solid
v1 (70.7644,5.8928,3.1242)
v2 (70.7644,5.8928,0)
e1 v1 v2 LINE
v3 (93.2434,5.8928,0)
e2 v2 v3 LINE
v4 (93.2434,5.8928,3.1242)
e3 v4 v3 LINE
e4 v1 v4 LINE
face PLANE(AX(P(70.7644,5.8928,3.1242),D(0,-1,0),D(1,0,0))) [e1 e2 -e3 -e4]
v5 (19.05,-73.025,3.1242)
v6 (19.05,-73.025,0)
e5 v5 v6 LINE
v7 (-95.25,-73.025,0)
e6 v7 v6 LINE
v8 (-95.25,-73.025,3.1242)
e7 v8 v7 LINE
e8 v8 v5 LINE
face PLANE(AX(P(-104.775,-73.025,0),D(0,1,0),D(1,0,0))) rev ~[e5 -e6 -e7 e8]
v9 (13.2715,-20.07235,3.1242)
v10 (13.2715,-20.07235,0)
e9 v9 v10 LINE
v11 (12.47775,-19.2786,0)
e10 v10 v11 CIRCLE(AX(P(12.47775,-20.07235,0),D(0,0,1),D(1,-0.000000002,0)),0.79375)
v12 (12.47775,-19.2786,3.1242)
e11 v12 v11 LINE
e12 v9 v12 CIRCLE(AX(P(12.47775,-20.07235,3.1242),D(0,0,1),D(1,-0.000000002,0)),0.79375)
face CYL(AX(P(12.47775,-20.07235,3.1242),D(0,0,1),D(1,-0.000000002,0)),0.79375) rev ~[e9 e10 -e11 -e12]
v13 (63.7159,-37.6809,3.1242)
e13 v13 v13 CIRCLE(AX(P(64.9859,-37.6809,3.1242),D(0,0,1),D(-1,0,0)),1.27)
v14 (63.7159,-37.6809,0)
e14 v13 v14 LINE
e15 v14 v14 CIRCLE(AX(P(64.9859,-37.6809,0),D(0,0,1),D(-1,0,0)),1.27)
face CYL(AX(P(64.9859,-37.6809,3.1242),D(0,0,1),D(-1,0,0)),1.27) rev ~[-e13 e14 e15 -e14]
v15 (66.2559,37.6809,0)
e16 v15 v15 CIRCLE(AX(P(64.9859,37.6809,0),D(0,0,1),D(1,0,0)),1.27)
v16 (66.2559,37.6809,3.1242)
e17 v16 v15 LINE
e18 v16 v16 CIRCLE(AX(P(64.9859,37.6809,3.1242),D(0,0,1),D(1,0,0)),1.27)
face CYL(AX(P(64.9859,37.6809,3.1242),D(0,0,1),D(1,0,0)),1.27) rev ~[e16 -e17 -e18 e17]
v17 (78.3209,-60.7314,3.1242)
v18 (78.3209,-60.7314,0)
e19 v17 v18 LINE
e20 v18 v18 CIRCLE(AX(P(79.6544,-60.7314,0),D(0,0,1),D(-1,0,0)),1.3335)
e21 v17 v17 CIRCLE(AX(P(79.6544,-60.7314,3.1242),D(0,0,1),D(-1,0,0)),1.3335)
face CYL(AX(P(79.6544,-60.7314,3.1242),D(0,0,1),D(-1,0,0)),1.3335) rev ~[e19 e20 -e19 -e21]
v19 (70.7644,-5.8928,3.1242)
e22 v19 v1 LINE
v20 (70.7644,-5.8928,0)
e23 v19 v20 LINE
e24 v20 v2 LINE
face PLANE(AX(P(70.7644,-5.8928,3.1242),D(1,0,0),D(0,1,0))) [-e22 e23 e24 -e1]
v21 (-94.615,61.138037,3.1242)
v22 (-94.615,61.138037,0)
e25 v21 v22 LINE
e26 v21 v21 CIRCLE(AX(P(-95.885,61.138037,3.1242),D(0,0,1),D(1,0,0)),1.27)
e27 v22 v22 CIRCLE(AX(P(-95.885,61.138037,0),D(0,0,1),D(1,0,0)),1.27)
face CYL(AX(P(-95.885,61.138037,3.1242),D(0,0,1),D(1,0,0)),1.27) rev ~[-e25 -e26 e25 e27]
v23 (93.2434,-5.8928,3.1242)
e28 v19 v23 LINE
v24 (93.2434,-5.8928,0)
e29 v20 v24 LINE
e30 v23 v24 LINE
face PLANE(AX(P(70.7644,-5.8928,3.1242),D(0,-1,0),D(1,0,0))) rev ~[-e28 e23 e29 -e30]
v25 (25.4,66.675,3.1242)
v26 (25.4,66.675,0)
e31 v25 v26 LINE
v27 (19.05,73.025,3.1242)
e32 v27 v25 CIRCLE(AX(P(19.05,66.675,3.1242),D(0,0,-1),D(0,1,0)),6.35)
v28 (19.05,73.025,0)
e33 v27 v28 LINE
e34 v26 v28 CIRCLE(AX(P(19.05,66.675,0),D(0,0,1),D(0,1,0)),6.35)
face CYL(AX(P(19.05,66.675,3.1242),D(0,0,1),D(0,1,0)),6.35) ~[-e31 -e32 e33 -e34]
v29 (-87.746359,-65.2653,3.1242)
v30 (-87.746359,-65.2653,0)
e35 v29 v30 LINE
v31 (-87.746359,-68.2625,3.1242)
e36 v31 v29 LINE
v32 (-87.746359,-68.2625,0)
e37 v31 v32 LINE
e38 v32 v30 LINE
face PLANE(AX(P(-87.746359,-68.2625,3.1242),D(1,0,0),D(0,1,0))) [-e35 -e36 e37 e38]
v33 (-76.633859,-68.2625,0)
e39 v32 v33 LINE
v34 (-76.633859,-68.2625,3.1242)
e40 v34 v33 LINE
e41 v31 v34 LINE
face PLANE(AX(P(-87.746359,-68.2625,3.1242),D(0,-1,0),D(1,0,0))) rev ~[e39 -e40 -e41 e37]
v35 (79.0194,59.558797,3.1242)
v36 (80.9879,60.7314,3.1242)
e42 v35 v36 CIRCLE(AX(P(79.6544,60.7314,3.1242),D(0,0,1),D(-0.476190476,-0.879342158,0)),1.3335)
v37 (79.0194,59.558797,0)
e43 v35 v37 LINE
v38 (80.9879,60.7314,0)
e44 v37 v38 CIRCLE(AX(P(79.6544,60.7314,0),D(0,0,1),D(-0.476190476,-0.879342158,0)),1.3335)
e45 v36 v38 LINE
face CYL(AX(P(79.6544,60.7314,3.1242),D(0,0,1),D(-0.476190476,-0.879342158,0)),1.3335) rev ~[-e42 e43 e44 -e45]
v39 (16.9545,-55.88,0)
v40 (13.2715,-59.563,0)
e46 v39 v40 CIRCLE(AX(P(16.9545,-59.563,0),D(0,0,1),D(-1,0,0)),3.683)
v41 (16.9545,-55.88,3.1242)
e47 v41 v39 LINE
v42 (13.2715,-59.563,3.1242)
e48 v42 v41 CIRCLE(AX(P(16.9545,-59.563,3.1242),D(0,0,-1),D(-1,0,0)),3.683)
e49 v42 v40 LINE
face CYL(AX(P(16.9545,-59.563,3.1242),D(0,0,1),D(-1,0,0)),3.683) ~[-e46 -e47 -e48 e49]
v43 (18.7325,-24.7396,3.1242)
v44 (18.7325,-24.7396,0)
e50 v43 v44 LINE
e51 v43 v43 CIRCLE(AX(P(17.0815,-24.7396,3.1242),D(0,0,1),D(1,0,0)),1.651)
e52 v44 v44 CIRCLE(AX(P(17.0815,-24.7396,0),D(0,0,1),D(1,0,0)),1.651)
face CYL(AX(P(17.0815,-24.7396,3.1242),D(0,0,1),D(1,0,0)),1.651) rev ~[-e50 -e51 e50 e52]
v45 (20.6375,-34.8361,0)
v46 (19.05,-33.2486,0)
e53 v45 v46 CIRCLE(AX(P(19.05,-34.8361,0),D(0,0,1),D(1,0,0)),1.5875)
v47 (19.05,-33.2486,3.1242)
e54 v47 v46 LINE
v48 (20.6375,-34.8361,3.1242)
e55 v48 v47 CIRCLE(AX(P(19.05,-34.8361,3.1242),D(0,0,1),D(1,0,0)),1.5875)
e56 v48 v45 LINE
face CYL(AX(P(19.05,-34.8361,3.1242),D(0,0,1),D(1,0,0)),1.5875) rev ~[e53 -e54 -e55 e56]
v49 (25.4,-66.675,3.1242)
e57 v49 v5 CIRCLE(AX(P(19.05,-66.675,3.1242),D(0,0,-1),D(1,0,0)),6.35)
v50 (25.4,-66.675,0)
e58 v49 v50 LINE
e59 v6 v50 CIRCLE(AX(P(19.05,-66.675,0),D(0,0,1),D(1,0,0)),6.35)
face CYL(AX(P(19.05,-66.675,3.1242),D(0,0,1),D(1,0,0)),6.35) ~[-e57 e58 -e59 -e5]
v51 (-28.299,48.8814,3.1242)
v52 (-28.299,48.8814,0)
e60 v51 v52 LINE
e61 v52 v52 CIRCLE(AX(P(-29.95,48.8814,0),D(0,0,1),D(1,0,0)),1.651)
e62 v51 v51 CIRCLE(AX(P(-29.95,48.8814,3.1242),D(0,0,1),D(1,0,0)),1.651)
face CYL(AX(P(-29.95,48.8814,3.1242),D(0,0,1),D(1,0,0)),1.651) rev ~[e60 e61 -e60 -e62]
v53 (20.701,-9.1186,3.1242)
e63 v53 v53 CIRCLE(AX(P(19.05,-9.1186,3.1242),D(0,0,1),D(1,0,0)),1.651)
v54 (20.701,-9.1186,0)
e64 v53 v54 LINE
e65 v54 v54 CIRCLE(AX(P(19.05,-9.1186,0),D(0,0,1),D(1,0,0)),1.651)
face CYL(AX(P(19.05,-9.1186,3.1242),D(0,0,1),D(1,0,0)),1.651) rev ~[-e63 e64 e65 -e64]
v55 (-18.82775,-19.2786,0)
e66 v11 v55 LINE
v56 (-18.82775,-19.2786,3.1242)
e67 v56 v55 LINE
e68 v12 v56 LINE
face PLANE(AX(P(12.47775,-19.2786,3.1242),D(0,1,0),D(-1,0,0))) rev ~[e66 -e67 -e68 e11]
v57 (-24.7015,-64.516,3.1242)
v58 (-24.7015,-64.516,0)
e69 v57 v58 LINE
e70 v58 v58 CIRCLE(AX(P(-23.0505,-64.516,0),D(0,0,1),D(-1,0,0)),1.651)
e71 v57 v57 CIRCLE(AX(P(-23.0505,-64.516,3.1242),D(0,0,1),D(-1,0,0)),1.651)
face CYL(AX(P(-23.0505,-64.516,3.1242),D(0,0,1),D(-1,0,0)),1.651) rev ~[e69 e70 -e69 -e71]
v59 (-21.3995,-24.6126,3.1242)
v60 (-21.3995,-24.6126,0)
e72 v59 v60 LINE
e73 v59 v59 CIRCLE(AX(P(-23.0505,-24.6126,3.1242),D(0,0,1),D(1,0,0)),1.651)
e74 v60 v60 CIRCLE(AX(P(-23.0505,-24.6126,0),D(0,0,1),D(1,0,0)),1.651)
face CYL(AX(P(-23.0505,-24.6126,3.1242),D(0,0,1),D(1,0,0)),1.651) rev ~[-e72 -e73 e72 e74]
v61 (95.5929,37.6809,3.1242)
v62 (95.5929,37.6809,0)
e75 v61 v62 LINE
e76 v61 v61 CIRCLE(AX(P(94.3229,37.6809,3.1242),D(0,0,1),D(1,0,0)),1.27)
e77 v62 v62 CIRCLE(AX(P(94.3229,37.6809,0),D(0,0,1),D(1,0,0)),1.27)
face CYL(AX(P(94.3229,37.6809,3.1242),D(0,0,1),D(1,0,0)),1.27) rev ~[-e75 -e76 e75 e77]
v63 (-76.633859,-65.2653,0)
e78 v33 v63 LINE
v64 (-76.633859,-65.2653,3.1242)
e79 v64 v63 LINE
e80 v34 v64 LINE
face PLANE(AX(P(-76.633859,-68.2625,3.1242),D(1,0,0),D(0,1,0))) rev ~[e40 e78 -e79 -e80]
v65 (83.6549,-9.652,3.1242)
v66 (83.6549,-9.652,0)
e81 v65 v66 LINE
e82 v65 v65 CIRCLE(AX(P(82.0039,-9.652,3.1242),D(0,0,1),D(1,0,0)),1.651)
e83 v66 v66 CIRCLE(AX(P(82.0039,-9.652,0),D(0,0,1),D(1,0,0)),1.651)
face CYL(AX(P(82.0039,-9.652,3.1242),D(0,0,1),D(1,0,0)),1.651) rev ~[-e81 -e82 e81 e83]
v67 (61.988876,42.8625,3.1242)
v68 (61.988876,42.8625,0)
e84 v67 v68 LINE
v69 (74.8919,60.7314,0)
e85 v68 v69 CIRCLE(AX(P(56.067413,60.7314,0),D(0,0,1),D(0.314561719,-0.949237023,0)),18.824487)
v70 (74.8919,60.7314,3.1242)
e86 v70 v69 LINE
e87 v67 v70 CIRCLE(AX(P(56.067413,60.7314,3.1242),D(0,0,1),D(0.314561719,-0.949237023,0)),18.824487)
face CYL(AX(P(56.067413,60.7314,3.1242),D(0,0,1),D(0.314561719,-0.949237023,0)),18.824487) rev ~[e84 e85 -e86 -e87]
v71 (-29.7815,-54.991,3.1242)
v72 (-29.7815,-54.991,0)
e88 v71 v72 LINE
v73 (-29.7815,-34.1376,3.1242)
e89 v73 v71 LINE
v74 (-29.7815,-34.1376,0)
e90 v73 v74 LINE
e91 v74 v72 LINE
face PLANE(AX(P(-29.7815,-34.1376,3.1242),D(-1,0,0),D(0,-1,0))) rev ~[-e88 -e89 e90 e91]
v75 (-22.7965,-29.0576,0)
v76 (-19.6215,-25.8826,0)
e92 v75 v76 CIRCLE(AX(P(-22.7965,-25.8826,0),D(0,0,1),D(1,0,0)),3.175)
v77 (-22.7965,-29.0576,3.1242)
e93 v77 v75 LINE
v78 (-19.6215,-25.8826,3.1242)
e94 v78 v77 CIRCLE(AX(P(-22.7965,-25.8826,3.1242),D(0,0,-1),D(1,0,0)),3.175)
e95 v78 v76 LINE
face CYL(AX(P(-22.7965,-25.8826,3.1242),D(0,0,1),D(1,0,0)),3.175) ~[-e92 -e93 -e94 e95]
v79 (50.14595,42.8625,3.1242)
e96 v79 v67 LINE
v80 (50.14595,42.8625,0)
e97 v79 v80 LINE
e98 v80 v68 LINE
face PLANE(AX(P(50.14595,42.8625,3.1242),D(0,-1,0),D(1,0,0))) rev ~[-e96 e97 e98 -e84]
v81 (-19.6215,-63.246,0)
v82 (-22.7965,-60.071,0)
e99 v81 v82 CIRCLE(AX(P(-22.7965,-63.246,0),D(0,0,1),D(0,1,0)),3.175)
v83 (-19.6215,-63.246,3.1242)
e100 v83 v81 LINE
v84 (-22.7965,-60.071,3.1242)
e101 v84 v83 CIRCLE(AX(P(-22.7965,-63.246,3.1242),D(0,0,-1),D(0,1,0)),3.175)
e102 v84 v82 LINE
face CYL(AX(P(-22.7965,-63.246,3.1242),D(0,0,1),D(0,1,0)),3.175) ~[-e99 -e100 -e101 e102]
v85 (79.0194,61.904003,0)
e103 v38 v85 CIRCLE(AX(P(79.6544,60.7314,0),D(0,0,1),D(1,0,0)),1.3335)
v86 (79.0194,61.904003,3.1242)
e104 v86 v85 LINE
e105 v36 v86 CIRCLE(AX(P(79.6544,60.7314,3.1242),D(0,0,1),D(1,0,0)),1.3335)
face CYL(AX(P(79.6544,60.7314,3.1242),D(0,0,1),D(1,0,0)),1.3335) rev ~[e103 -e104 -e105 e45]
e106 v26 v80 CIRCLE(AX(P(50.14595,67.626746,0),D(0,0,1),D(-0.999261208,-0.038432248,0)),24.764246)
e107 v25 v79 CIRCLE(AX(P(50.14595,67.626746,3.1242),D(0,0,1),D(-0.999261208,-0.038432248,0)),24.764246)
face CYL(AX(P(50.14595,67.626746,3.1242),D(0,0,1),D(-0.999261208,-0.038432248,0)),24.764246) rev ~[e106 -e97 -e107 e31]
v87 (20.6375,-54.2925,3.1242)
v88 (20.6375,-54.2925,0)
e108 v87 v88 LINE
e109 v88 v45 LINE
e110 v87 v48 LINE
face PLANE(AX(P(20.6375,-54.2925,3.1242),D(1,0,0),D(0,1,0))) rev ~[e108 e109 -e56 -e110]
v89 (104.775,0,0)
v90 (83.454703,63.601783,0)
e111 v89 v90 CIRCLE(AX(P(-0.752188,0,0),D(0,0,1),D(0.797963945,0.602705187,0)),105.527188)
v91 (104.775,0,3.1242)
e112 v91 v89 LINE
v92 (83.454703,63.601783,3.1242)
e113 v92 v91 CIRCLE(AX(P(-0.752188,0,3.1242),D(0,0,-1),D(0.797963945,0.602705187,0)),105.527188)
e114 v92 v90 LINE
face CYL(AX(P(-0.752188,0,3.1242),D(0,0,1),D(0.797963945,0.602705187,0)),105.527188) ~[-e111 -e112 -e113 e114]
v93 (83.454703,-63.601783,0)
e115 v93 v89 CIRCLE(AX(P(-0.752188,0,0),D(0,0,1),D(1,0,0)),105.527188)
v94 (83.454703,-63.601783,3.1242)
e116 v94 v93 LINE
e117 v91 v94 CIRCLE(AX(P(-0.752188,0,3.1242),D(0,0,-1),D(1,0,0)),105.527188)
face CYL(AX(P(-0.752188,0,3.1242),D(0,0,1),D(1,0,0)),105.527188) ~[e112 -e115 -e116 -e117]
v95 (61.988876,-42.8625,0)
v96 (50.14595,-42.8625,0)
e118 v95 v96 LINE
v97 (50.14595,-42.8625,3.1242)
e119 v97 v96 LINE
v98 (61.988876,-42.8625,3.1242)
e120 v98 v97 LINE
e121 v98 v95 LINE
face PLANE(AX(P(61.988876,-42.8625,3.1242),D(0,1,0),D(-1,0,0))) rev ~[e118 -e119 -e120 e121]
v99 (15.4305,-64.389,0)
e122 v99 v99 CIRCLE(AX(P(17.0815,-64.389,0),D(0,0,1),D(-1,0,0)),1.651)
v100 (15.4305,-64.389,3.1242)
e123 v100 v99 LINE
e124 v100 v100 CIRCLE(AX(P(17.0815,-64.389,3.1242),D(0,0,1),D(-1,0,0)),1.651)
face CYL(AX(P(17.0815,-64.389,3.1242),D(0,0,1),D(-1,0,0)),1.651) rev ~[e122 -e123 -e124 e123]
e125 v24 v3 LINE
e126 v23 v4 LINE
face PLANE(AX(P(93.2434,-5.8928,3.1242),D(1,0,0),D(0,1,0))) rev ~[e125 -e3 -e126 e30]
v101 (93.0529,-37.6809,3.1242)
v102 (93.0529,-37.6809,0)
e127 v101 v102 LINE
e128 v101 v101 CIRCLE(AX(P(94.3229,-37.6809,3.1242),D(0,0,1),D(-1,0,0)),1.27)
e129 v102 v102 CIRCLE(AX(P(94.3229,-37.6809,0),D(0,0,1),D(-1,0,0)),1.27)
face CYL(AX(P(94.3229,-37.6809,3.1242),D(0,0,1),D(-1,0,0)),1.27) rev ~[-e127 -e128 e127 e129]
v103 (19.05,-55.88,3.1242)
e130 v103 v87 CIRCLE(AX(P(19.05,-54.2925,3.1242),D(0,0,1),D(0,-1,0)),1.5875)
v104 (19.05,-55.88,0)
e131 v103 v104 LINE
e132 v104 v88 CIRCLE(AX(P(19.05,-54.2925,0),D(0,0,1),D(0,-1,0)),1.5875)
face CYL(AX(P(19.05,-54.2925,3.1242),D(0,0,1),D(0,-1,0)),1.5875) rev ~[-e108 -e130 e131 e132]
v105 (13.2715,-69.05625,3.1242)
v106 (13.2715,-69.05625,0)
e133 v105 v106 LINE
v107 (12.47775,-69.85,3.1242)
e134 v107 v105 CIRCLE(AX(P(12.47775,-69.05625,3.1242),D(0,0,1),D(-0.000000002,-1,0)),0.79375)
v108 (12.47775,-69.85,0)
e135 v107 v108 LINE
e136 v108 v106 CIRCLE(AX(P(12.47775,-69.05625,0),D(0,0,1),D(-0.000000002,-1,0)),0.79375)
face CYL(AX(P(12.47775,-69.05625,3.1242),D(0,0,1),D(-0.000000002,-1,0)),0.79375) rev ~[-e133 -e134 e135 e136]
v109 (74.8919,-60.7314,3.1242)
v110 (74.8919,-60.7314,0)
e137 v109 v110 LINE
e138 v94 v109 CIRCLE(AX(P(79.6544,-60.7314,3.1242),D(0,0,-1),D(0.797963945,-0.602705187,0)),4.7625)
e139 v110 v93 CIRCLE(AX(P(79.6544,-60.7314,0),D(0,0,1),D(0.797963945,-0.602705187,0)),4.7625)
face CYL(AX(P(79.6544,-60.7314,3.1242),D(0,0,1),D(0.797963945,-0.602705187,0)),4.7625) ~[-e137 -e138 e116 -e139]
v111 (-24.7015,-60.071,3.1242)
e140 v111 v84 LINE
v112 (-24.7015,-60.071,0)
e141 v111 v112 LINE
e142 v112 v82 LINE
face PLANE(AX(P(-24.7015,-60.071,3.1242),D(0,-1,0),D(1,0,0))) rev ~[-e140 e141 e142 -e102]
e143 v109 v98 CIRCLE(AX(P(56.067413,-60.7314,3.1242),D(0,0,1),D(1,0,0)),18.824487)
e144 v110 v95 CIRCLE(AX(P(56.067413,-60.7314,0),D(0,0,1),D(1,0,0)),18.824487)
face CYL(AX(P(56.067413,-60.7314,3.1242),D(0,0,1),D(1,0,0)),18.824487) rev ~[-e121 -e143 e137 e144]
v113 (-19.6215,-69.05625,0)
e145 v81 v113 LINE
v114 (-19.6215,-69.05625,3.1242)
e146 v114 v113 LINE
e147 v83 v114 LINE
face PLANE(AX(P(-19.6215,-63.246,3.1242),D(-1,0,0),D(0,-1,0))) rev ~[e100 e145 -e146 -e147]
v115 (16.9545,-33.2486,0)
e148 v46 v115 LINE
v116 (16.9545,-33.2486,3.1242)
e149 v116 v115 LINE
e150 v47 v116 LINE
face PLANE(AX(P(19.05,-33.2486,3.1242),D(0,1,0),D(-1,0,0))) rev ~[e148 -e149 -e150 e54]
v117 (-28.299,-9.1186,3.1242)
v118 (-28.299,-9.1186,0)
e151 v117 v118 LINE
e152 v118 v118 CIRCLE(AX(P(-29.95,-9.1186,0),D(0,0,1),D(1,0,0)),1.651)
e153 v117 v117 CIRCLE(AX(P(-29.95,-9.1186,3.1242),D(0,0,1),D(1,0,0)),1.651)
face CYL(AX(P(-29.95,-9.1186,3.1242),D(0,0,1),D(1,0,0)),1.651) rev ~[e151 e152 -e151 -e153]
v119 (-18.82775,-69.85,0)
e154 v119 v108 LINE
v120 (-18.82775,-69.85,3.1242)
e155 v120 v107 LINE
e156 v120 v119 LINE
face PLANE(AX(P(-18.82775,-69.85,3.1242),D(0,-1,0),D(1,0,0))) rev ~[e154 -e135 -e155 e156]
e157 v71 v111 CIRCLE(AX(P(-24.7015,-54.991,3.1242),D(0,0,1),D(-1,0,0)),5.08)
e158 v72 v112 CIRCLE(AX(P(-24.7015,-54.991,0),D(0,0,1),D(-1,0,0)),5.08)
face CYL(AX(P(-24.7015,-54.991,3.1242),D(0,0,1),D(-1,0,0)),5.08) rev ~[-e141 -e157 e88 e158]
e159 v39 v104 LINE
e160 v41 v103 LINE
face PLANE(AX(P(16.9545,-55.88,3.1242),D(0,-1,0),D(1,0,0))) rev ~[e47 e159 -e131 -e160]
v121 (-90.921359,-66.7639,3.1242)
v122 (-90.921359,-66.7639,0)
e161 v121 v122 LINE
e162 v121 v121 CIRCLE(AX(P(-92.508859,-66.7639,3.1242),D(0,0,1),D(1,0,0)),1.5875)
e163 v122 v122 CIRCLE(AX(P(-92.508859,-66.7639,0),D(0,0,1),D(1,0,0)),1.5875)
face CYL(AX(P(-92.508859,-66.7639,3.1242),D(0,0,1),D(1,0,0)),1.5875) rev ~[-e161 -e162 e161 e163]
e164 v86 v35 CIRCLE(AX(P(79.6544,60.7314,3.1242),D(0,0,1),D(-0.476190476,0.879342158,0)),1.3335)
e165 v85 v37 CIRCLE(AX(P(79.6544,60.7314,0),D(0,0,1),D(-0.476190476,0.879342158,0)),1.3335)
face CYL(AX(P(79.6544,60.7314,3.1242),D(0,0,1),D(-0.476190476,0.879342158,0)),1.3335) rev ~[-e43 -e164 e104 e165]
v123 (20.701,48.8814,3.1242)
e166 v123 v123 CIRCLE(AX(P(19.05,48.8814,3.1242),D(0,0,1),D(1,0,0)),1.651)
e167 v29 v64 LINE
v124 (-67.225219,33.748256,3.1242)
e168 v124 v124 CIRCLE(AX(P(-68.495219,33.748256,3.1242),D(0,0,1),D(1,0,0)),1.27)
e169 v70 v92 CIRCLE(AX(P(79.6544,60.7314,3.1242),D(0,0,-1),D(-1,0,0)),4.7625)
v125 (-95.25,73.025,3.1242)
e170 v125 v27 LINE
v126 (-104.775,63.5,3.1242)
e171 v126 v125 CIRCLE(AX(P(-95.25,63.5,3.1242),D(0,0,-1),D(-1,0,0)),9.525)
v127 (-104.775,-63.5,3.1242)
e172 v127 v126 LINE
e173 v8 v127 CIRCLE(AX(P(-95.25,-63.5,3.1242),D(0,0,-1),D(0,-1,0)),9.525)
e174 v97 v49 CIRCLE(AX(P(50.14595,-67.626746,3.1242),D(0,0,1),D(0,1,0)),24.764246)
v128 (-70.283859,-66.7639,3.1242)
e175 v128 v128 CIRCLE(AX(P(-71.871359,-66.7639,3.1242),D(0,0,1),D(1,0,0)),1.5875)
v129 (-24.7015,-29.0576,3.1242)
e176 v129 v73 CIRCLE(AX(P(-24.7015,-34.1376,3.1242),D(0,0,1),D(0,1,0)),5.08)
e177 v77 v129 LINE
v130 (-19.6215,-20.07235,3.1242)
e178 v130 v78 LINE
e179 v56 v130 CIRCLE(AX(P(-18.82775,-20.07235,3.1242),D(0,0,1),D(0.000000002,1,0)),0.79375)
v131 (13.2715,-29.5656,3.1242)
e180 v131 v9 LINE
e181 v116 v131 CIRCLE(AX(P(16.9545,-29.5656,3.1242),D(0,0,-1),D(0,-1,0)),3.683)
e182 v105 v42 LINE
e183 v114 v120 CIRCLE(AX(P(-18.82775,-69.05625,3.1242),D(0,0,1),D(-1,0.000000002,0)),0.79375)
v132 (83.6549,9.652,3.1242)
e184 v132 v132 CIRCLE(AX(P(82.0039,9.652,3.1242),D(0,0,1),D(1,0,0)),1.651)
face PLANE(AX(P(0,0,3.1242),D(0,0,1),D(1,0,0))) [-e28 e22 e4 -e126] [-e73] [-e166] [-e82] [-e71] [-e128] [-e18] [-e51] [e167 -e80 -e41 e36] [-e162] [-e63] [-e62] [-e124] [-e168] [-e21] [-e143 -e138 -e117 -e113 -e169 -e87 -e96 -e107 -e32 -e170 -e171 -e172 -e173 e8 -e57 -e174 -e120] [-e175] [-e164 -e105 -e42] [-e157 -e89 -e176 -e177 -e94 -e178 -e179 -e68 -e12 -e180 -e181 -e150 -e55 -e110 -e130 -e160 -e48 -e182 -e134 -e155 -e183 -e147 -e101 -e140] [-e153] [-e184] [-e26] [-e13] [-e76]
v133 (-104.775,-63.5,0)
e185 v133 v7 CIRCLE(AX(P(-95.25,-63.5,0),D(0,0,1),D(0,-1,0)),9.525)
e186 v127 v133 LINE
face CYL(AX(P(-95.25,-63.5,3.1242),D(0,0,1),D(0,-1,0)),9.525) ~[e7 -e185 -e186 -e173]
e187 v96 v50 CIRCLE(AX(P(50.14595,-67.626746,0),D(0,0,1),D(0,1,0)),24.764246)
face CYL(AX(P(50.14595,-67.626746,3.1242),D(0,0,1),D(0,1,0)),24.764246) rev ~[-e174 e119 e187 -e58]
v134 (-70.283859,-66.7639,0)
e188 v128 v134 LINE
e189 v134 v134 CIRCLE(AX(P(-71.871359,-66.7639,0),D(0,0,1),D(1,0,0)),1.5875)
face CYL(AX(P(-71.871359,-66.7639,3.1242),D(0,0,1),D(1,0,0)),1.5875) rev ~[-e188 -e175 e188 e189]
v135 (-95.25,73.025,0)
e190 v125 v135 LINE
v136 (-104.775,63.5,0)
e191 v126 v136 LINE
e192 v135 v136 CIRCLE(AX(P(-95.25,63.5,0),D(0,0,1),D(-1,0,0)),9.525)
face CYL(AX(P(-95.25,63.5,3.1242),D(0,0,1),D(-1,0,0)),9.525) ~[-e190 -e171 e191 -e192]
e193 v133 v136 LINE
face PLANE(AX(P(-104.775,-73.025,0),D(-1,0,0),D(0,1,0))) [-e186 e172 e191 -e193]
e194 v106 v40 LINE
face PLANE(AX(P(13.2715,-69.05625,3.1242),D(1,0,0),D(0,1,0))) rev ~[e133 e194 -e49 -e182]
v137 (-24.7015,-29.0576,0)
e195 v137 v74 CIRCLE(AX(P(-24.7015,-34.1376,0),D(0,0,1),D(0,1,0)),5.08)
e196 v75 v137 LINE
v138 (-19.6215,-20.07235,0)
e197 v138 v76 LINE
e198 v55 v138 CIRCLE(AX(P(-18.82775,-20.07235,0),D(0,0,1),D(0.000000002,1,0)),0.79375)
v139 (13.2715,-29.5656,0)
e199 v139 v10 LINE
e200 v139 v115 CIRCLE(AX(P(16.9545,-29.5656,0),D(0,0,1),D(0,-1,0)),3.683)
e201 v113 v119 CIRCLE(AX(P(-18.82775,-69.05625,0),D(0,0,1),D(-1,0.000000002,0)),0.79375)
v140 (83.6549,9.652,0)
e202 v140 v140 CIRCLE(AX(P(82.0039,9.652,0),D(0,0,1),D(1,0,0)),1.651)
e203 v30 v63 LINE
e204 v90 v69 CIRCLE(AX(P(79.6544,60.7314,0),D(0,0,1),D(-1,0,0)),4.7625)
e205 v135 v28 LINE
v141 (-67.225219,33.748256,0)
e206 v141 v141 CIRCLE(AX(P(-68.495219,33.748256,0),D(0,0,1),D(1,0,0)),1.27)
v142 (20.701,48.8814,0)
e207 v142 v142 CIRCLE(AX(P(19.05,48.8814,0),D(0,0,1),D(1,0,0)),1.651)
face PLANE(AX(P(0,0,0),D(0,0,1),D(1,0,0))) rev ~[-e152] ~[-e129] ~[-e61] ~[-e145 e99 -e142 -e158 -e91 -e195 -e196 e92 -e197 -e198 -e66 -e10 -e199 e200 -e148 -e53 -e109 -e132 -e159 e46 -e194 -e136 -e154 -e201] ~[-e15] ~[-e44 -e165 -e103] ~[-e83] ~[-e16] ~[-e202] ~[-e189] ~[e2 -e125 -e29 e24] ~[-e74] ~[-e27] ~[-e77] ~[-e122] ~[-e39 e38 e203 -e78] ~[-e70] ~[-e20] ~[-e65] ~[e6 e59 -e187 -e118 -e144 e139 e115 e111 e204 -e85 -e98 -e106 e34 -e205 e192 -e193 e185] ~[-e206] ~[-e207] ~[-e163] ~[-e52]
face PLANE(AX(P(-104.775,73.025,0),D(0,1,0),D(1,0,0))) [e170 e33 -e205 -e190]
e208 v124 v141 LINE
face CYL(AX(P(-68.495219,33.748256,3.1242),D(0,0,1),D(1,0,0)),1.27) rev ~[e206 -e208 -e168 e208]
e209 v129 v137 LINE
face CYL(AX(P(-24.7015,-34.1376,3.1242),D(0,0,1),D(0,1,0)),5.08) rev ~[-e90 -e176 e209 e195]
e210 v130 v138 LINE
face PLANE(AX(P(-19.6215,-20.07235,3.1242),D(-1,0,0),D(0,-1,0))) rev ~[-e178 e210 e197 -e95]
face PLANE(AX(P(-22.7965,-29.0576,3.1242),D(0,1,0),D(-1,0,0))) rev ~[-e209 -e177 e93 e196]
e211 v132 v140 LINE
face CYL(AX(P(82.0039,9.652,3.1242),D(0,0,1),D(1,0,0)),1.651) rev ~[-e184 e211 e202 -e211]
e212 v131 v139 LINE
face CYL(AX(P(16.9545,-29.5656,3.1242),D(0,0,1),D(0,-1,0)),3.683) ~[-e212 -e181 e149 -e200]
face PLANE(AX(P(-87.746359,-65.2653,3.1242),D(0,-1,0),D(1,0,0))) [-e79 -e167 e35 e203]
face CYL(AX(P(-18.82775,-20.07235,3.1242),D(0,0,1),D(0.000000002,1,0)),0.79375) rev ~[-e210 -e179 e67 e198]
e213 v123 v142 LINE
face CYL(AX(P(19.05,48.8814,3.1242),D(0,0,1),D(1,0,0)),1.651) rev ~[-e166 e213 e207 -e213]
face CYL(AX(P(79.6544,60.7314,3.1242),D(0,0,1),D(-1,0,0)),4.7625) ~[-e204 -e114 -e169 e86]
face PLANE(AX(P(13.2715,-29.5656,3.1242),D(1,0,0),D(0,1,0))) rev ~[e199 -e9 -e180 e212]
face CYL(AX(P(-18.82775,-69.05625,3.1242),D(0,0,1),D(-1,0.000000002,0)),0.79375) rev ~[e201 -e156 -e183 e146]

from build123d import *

# Parameters (mm, degrees)
CROQUIS1_W              = 209.55
CROQUIS1_H              = 146.05
SALIENTE_EXTRUIR1_DEPTH = 3.1242
CROQUIS2_R              = 1.3335
CORTAR_EXTRUIR1_DEPTH   = 128.750584639
CROQUIS9_R              = 1.27
CORTAR_EXTRUIR6_DEPTH   = 128.750584639
CORTAR_EXTRUIR2_DEPTH   = 128.750584639
CROQUIS5_R              = 1.651
DRIVER_DEPTH            = 128.750584639
CROQUIS6_R              = 1.651
RASPI_DEPTH             = 128.750584639
CROQUIS8_R              = 1.27
CORTAR_EXTRUIR5_DEPTH   = 128.750584639
CROQUIS7_R              = 1.5875
CROQUIS7_W              = 11.1125
CROQUIS7_H              = 2.9972
CORTAR_EXTRUIR7_DEPTH   = 128.750584639
CROQUIS10_R             = 1.651
CROQUIS10_W             = 22.479
CROQUIS10_H             = 11.7856
CORTAR_EXTRUIR10_DEPTH  = 128.750584639


with BuildPart() as part:
    # Croquis1 → Saliente-Extruir1 (new body)
    with BuildSketch(Plane.XY):
        Rectangle(CROQUIS1_W, CROQUIS1_H)
    extrude(amount=SALIENTE_EXTRUIR1_DEPTH)

    # Croquis2 → Cortar-Extruir1 (cut, through all)
    with BuildSketch(Plane.XY.offset(3.1242)):
        with BuildLine():
            ThreePointArc((80.9879, 60.7314), (80.336840382, 61.877042778), (79.0194, 61.904002767))
            Line((79.0194, 61.904002767), (79.0194, 59.558797233))
            ThreePointArc((79.0194, 59.558797233), (80.336840382, 59.585757222), (80.9879, 60.7314))
        make_face()
        with BuildLine():
            Line((79.0194, 59.558797233), (79.0194, 61.904002767))
            ThreePointArc((79.0194, 61.904002767), (78.3209, 60.7314), (79.0194, 59.558797233))
        make_face()
        with Locations(Location((79.6544, -60.7314, 0), (0, 0, 180))):
            Circle(CROQUIS2_R)
    extrude(amount=-CORTAR_EXTRUIR1_DEPTH, mode=Mode.SUBTRACT)

    # Croquis9 → Cortar-Extruir6 (cut, through all)
    with BuildSketch(Plane.XY.offset(3.1242)):
        with Locations((64.9859, 37.6809)):
            Circle(CROQUIS9_R)
        with Locations((94.3229, 37.6809)):
            Circle(CROQUIS9_R)
        with Locations(Location((94.3229, -37.6809, 0), (0, 0, 180))):
            Circle(CROQUIS9_R)
        with Locations(Location((64.9859, -37.6809, 0), (0, 0, 180))):
            Circle(CROQUIS9_R)
    extrude(amount=-CORTAR_EXTRUIR6_DEPTH, mode=Mode.SUBTRACT)

    # Croquis3 → Cortar-Extruir2 (cut, through all)
    with BuildSketch(Plane.XY.offset(3.1242)):
        with BuildLine():
            ThreePointArc((19.05, 73.025), (23.540128061, 71.165128061), (25.4, 66.675))
            ThreePointArc((25.4, 66.675), (32.974773587, 49.782459091), (50.14595, 42.8625))
            Line((50.14595, 42.8625), (61.988875982, 42.8625))
            ThreePointArc((61.988875982, 42.8625), (71.32896295, 49.711127589), (74.8919, 60.7314))
            ThreePointArc((74.8919, 60.7314), (78.140718752, 65.246948176), (83.454703288, 63.601783453))
            ThreePointArc((83.454703288, 63.601783453), (99.303056378, 33.540057805), (104.775, 0))
            Line((104.775, 0), (104.775, 73.025))
            Line((104.775, 73.025), (19.05, 73.025))
        make_face()
        with BuildLine():
            Line((104.775, -73.025), (104.775, 0))
            ThreePointArc((104.775, 0), (99.303056378, -33.540057805), (83.454703288, -63.601783453))
            ThreePointArc((83.454703288, -63.601783453), (78.140718752, -65.246948176), (74.8919, -60.7314))
            ThreePointArc((74.8919, -60.7314), (71.32896295, -49.711127589), (61.988875982, -42.8625))
            Line((61.988875982, -42.8625), (50.14595, -42.8625))
            ThreePointArc((50.14595, -42.8625), (32.974773587, -49.782459091), (25.4, -66.675))
            ThreePointArc((25.4, -66.675), (23.540128061, -71.165128061), (19.05, -73.025))
            Line((19.05, -73.025), (104.775, -73.025))
        make_face()
        with BuildLine():
            ThreePointArc((-104.775, 63.5), (-101.985192091, 70.235192091), (-95.25, 73.025))
            Line((-95.25, 73.025), (-104.775, 73.025))
            Line((-104.775, 73.025), (-104.775, 63.5))
        make_face()
        with BuildLine():
            Line((-104.775, -73.025), (-95.25, -73.025))
            ThreePointArc((-95.25, -73.025), (-101.985192091, -70.235192091), (-104.775, -63.5))
            Line((-104.775, -63.5), (-104.775, -73.025))
        make_face()
    extrude(amount=-CORTAR_EXTRUIR2_DEPTH, mode=Mode.SUBTRACT)

    # Croquis5 → Driver (cut, through all)
    with BuildSketch(Plane.XY.offset(3.1242)):
        with BuildLine():
            Line((12.47775, -19.2786), (-18.82775, -19.2786))
            ThreePointArc((-18.82775, -19.2786), (-19.389016008, -19.511083992), (-19.6215, -20.07235))
            Line((-19.6215, -20.07235), (-19.6215, -25.8826))
            ThreePointArc((-19.6215, -25.8826), (-20.55143597, -28.12766403), (-22.7965, -29.0576))
            Line((-22.7965, -29.0576), (-24.7015, -29.0576))
            ThreePointArc((-24.7015, -29.0576), (-28.293602448, -30.545497552), (-29.7815, -34.1376))
            Line((-29.7815, -34.1376), (-29.7815, -54.991))
            ThreePointArc((-29.7815, -54.991), (-28.293602448, -58.583102448), (-24.7015, -60.071))
            Line((-24.7015, -60.071), (-22.7965, -60.071))
            ThreePointArc((-22.7965, -60.071), (-20.55143597, -61.00093597), (-19.6215, -63.246))
            Line((-19.6215, -63.246), (-19.6215, -69.05625))
            ThreePointArc((-19.6215, -69.05625), (-19.389016008, -69.617516008), (-18.82775, -69.85))
            Line((-18.82775, -69.85), (12.47775, -69.85))
            ThreePointArc((12.47775, -69.85), (13.039016008, -69.617516008), (13.2715, -69.05625))
            Line((13.2715, -69.05625), (13.2715, -59.563))
            ThreePointArc((13.2715, -59.563), (14.350225725, -56.958725725), (16.9545, -55.88))
            Line((16.9545, -55.88), (19.05, -55.88))
            ThreePointArc((19.05, -55.88), (20.172532015, -55.415032015), (20.6375, -54.2925))
            Line((20.6375, -54.2925), (20.6375, -34.8361))
            ThreePointArc((20.6375, -34.8361), (20.172532015, -33.713567985), (19.05, -33.2486))
            Line((19.05, -33.2486), (16.9545, -33.2486))
            ThreePointArc((16.9545, -33.2486), (14.350225725, -32.169874275), (13.2715, -29.5656))
            Line((13.2715, -29.5656), (13.2715, -20.07235))
            ThreePointArc((13.2715, -20.07235), (13.039016008, -19.511083992), (12.47775, -19.2786))
        make_face()
        with Locations((17.0815, -24.7396)):
            Circle(CROQUIS5_R)
        with Locations((-23.0505, -24.6126)):
            Circle(CROQUIS5_R)
        with Locations(Location((17.0815, -64.389, 0), (0, 0, 180))):
            Circle(CROQUIS5_R)
        with Locations(Location((-23.0505, -64.516, 0), (0, 0, 180))):
            Circle(CROQUIS5_R)
    extrude(amount=-DRIVER_DEPTH, mode=Mode.SUBTRACT)

    # Croquis6 → RasPi (cut, through all)
    with BuildSketch(Plane.XY.offset(3.1242)):
        with Locations((-29.95, 48.8814)):
            Circle(CROQUIS6_R)
        with Locations((19.05, 48.8814)):
            Circle(CROQUIS6_R)
        with Locations((19.05, -9.1186)):
            Circle(CROQUIS6_R)
        with Locations((-29.95, -9.1186)):
            Circle(CROQUIS6_R)
    extrude(amount=-RASPI_DEPTH, mode=Mode.SUBTRACT)

    # Croquis8 → Cortar-Extruir5 (cut, through all)
    with BuildSketch(Plane.XY.offset(3.1242)):
        with Locations((-95.885, 61.138037406)):
            Circle(CROQUIS8_R)
        with Locations((-68.495218831, 33.748256237)):
            Circle(CROQUIS8_R)
    extrude(amount=-CORTAR_EXTRUIR5_DEPTH, mode=Mode.SUBTRACT)

    # Croquis7 → Cortar-Extruir7 (cut, through all)
    with BuildSketch(Plane.XY.offset(3.1242)):
        with Locations((-92.508859415, -66.7639)):
            Circle(CROQUIS7_R)
        with Locations((-71.871359415, -66.7639)):
            Circle(CROQUIS7_R)
        with Locations((-82.190109415, -66.7639)):
            Rectangle(CROQUIS7_W, CROQUIS7_H)
    extrude(amount=-CORTAR_EXTRUIR7_DEPTH, mode=Mode.SUBTRACT)

    # Croquis10 → Cortar-Extruir10 (cut, through all)
    with BuildSketch(Plane.XY.offset(3.1242)):
        with Locations((82.0039, 9.652)):
            Circle(CROQUIS10_R)
        with Locations((82.0039, 0)):
            Rectangle(CROQUIS10_W, CROQUIS10_H)
        with Locations((82.0039, -9.652)):
            Circle(CROQUIS10_R)
    extrude(amount=-CORTAR_EXTRUIR10_DEPTH, mode=Mode.SUBTRACT)


solid = part.part
